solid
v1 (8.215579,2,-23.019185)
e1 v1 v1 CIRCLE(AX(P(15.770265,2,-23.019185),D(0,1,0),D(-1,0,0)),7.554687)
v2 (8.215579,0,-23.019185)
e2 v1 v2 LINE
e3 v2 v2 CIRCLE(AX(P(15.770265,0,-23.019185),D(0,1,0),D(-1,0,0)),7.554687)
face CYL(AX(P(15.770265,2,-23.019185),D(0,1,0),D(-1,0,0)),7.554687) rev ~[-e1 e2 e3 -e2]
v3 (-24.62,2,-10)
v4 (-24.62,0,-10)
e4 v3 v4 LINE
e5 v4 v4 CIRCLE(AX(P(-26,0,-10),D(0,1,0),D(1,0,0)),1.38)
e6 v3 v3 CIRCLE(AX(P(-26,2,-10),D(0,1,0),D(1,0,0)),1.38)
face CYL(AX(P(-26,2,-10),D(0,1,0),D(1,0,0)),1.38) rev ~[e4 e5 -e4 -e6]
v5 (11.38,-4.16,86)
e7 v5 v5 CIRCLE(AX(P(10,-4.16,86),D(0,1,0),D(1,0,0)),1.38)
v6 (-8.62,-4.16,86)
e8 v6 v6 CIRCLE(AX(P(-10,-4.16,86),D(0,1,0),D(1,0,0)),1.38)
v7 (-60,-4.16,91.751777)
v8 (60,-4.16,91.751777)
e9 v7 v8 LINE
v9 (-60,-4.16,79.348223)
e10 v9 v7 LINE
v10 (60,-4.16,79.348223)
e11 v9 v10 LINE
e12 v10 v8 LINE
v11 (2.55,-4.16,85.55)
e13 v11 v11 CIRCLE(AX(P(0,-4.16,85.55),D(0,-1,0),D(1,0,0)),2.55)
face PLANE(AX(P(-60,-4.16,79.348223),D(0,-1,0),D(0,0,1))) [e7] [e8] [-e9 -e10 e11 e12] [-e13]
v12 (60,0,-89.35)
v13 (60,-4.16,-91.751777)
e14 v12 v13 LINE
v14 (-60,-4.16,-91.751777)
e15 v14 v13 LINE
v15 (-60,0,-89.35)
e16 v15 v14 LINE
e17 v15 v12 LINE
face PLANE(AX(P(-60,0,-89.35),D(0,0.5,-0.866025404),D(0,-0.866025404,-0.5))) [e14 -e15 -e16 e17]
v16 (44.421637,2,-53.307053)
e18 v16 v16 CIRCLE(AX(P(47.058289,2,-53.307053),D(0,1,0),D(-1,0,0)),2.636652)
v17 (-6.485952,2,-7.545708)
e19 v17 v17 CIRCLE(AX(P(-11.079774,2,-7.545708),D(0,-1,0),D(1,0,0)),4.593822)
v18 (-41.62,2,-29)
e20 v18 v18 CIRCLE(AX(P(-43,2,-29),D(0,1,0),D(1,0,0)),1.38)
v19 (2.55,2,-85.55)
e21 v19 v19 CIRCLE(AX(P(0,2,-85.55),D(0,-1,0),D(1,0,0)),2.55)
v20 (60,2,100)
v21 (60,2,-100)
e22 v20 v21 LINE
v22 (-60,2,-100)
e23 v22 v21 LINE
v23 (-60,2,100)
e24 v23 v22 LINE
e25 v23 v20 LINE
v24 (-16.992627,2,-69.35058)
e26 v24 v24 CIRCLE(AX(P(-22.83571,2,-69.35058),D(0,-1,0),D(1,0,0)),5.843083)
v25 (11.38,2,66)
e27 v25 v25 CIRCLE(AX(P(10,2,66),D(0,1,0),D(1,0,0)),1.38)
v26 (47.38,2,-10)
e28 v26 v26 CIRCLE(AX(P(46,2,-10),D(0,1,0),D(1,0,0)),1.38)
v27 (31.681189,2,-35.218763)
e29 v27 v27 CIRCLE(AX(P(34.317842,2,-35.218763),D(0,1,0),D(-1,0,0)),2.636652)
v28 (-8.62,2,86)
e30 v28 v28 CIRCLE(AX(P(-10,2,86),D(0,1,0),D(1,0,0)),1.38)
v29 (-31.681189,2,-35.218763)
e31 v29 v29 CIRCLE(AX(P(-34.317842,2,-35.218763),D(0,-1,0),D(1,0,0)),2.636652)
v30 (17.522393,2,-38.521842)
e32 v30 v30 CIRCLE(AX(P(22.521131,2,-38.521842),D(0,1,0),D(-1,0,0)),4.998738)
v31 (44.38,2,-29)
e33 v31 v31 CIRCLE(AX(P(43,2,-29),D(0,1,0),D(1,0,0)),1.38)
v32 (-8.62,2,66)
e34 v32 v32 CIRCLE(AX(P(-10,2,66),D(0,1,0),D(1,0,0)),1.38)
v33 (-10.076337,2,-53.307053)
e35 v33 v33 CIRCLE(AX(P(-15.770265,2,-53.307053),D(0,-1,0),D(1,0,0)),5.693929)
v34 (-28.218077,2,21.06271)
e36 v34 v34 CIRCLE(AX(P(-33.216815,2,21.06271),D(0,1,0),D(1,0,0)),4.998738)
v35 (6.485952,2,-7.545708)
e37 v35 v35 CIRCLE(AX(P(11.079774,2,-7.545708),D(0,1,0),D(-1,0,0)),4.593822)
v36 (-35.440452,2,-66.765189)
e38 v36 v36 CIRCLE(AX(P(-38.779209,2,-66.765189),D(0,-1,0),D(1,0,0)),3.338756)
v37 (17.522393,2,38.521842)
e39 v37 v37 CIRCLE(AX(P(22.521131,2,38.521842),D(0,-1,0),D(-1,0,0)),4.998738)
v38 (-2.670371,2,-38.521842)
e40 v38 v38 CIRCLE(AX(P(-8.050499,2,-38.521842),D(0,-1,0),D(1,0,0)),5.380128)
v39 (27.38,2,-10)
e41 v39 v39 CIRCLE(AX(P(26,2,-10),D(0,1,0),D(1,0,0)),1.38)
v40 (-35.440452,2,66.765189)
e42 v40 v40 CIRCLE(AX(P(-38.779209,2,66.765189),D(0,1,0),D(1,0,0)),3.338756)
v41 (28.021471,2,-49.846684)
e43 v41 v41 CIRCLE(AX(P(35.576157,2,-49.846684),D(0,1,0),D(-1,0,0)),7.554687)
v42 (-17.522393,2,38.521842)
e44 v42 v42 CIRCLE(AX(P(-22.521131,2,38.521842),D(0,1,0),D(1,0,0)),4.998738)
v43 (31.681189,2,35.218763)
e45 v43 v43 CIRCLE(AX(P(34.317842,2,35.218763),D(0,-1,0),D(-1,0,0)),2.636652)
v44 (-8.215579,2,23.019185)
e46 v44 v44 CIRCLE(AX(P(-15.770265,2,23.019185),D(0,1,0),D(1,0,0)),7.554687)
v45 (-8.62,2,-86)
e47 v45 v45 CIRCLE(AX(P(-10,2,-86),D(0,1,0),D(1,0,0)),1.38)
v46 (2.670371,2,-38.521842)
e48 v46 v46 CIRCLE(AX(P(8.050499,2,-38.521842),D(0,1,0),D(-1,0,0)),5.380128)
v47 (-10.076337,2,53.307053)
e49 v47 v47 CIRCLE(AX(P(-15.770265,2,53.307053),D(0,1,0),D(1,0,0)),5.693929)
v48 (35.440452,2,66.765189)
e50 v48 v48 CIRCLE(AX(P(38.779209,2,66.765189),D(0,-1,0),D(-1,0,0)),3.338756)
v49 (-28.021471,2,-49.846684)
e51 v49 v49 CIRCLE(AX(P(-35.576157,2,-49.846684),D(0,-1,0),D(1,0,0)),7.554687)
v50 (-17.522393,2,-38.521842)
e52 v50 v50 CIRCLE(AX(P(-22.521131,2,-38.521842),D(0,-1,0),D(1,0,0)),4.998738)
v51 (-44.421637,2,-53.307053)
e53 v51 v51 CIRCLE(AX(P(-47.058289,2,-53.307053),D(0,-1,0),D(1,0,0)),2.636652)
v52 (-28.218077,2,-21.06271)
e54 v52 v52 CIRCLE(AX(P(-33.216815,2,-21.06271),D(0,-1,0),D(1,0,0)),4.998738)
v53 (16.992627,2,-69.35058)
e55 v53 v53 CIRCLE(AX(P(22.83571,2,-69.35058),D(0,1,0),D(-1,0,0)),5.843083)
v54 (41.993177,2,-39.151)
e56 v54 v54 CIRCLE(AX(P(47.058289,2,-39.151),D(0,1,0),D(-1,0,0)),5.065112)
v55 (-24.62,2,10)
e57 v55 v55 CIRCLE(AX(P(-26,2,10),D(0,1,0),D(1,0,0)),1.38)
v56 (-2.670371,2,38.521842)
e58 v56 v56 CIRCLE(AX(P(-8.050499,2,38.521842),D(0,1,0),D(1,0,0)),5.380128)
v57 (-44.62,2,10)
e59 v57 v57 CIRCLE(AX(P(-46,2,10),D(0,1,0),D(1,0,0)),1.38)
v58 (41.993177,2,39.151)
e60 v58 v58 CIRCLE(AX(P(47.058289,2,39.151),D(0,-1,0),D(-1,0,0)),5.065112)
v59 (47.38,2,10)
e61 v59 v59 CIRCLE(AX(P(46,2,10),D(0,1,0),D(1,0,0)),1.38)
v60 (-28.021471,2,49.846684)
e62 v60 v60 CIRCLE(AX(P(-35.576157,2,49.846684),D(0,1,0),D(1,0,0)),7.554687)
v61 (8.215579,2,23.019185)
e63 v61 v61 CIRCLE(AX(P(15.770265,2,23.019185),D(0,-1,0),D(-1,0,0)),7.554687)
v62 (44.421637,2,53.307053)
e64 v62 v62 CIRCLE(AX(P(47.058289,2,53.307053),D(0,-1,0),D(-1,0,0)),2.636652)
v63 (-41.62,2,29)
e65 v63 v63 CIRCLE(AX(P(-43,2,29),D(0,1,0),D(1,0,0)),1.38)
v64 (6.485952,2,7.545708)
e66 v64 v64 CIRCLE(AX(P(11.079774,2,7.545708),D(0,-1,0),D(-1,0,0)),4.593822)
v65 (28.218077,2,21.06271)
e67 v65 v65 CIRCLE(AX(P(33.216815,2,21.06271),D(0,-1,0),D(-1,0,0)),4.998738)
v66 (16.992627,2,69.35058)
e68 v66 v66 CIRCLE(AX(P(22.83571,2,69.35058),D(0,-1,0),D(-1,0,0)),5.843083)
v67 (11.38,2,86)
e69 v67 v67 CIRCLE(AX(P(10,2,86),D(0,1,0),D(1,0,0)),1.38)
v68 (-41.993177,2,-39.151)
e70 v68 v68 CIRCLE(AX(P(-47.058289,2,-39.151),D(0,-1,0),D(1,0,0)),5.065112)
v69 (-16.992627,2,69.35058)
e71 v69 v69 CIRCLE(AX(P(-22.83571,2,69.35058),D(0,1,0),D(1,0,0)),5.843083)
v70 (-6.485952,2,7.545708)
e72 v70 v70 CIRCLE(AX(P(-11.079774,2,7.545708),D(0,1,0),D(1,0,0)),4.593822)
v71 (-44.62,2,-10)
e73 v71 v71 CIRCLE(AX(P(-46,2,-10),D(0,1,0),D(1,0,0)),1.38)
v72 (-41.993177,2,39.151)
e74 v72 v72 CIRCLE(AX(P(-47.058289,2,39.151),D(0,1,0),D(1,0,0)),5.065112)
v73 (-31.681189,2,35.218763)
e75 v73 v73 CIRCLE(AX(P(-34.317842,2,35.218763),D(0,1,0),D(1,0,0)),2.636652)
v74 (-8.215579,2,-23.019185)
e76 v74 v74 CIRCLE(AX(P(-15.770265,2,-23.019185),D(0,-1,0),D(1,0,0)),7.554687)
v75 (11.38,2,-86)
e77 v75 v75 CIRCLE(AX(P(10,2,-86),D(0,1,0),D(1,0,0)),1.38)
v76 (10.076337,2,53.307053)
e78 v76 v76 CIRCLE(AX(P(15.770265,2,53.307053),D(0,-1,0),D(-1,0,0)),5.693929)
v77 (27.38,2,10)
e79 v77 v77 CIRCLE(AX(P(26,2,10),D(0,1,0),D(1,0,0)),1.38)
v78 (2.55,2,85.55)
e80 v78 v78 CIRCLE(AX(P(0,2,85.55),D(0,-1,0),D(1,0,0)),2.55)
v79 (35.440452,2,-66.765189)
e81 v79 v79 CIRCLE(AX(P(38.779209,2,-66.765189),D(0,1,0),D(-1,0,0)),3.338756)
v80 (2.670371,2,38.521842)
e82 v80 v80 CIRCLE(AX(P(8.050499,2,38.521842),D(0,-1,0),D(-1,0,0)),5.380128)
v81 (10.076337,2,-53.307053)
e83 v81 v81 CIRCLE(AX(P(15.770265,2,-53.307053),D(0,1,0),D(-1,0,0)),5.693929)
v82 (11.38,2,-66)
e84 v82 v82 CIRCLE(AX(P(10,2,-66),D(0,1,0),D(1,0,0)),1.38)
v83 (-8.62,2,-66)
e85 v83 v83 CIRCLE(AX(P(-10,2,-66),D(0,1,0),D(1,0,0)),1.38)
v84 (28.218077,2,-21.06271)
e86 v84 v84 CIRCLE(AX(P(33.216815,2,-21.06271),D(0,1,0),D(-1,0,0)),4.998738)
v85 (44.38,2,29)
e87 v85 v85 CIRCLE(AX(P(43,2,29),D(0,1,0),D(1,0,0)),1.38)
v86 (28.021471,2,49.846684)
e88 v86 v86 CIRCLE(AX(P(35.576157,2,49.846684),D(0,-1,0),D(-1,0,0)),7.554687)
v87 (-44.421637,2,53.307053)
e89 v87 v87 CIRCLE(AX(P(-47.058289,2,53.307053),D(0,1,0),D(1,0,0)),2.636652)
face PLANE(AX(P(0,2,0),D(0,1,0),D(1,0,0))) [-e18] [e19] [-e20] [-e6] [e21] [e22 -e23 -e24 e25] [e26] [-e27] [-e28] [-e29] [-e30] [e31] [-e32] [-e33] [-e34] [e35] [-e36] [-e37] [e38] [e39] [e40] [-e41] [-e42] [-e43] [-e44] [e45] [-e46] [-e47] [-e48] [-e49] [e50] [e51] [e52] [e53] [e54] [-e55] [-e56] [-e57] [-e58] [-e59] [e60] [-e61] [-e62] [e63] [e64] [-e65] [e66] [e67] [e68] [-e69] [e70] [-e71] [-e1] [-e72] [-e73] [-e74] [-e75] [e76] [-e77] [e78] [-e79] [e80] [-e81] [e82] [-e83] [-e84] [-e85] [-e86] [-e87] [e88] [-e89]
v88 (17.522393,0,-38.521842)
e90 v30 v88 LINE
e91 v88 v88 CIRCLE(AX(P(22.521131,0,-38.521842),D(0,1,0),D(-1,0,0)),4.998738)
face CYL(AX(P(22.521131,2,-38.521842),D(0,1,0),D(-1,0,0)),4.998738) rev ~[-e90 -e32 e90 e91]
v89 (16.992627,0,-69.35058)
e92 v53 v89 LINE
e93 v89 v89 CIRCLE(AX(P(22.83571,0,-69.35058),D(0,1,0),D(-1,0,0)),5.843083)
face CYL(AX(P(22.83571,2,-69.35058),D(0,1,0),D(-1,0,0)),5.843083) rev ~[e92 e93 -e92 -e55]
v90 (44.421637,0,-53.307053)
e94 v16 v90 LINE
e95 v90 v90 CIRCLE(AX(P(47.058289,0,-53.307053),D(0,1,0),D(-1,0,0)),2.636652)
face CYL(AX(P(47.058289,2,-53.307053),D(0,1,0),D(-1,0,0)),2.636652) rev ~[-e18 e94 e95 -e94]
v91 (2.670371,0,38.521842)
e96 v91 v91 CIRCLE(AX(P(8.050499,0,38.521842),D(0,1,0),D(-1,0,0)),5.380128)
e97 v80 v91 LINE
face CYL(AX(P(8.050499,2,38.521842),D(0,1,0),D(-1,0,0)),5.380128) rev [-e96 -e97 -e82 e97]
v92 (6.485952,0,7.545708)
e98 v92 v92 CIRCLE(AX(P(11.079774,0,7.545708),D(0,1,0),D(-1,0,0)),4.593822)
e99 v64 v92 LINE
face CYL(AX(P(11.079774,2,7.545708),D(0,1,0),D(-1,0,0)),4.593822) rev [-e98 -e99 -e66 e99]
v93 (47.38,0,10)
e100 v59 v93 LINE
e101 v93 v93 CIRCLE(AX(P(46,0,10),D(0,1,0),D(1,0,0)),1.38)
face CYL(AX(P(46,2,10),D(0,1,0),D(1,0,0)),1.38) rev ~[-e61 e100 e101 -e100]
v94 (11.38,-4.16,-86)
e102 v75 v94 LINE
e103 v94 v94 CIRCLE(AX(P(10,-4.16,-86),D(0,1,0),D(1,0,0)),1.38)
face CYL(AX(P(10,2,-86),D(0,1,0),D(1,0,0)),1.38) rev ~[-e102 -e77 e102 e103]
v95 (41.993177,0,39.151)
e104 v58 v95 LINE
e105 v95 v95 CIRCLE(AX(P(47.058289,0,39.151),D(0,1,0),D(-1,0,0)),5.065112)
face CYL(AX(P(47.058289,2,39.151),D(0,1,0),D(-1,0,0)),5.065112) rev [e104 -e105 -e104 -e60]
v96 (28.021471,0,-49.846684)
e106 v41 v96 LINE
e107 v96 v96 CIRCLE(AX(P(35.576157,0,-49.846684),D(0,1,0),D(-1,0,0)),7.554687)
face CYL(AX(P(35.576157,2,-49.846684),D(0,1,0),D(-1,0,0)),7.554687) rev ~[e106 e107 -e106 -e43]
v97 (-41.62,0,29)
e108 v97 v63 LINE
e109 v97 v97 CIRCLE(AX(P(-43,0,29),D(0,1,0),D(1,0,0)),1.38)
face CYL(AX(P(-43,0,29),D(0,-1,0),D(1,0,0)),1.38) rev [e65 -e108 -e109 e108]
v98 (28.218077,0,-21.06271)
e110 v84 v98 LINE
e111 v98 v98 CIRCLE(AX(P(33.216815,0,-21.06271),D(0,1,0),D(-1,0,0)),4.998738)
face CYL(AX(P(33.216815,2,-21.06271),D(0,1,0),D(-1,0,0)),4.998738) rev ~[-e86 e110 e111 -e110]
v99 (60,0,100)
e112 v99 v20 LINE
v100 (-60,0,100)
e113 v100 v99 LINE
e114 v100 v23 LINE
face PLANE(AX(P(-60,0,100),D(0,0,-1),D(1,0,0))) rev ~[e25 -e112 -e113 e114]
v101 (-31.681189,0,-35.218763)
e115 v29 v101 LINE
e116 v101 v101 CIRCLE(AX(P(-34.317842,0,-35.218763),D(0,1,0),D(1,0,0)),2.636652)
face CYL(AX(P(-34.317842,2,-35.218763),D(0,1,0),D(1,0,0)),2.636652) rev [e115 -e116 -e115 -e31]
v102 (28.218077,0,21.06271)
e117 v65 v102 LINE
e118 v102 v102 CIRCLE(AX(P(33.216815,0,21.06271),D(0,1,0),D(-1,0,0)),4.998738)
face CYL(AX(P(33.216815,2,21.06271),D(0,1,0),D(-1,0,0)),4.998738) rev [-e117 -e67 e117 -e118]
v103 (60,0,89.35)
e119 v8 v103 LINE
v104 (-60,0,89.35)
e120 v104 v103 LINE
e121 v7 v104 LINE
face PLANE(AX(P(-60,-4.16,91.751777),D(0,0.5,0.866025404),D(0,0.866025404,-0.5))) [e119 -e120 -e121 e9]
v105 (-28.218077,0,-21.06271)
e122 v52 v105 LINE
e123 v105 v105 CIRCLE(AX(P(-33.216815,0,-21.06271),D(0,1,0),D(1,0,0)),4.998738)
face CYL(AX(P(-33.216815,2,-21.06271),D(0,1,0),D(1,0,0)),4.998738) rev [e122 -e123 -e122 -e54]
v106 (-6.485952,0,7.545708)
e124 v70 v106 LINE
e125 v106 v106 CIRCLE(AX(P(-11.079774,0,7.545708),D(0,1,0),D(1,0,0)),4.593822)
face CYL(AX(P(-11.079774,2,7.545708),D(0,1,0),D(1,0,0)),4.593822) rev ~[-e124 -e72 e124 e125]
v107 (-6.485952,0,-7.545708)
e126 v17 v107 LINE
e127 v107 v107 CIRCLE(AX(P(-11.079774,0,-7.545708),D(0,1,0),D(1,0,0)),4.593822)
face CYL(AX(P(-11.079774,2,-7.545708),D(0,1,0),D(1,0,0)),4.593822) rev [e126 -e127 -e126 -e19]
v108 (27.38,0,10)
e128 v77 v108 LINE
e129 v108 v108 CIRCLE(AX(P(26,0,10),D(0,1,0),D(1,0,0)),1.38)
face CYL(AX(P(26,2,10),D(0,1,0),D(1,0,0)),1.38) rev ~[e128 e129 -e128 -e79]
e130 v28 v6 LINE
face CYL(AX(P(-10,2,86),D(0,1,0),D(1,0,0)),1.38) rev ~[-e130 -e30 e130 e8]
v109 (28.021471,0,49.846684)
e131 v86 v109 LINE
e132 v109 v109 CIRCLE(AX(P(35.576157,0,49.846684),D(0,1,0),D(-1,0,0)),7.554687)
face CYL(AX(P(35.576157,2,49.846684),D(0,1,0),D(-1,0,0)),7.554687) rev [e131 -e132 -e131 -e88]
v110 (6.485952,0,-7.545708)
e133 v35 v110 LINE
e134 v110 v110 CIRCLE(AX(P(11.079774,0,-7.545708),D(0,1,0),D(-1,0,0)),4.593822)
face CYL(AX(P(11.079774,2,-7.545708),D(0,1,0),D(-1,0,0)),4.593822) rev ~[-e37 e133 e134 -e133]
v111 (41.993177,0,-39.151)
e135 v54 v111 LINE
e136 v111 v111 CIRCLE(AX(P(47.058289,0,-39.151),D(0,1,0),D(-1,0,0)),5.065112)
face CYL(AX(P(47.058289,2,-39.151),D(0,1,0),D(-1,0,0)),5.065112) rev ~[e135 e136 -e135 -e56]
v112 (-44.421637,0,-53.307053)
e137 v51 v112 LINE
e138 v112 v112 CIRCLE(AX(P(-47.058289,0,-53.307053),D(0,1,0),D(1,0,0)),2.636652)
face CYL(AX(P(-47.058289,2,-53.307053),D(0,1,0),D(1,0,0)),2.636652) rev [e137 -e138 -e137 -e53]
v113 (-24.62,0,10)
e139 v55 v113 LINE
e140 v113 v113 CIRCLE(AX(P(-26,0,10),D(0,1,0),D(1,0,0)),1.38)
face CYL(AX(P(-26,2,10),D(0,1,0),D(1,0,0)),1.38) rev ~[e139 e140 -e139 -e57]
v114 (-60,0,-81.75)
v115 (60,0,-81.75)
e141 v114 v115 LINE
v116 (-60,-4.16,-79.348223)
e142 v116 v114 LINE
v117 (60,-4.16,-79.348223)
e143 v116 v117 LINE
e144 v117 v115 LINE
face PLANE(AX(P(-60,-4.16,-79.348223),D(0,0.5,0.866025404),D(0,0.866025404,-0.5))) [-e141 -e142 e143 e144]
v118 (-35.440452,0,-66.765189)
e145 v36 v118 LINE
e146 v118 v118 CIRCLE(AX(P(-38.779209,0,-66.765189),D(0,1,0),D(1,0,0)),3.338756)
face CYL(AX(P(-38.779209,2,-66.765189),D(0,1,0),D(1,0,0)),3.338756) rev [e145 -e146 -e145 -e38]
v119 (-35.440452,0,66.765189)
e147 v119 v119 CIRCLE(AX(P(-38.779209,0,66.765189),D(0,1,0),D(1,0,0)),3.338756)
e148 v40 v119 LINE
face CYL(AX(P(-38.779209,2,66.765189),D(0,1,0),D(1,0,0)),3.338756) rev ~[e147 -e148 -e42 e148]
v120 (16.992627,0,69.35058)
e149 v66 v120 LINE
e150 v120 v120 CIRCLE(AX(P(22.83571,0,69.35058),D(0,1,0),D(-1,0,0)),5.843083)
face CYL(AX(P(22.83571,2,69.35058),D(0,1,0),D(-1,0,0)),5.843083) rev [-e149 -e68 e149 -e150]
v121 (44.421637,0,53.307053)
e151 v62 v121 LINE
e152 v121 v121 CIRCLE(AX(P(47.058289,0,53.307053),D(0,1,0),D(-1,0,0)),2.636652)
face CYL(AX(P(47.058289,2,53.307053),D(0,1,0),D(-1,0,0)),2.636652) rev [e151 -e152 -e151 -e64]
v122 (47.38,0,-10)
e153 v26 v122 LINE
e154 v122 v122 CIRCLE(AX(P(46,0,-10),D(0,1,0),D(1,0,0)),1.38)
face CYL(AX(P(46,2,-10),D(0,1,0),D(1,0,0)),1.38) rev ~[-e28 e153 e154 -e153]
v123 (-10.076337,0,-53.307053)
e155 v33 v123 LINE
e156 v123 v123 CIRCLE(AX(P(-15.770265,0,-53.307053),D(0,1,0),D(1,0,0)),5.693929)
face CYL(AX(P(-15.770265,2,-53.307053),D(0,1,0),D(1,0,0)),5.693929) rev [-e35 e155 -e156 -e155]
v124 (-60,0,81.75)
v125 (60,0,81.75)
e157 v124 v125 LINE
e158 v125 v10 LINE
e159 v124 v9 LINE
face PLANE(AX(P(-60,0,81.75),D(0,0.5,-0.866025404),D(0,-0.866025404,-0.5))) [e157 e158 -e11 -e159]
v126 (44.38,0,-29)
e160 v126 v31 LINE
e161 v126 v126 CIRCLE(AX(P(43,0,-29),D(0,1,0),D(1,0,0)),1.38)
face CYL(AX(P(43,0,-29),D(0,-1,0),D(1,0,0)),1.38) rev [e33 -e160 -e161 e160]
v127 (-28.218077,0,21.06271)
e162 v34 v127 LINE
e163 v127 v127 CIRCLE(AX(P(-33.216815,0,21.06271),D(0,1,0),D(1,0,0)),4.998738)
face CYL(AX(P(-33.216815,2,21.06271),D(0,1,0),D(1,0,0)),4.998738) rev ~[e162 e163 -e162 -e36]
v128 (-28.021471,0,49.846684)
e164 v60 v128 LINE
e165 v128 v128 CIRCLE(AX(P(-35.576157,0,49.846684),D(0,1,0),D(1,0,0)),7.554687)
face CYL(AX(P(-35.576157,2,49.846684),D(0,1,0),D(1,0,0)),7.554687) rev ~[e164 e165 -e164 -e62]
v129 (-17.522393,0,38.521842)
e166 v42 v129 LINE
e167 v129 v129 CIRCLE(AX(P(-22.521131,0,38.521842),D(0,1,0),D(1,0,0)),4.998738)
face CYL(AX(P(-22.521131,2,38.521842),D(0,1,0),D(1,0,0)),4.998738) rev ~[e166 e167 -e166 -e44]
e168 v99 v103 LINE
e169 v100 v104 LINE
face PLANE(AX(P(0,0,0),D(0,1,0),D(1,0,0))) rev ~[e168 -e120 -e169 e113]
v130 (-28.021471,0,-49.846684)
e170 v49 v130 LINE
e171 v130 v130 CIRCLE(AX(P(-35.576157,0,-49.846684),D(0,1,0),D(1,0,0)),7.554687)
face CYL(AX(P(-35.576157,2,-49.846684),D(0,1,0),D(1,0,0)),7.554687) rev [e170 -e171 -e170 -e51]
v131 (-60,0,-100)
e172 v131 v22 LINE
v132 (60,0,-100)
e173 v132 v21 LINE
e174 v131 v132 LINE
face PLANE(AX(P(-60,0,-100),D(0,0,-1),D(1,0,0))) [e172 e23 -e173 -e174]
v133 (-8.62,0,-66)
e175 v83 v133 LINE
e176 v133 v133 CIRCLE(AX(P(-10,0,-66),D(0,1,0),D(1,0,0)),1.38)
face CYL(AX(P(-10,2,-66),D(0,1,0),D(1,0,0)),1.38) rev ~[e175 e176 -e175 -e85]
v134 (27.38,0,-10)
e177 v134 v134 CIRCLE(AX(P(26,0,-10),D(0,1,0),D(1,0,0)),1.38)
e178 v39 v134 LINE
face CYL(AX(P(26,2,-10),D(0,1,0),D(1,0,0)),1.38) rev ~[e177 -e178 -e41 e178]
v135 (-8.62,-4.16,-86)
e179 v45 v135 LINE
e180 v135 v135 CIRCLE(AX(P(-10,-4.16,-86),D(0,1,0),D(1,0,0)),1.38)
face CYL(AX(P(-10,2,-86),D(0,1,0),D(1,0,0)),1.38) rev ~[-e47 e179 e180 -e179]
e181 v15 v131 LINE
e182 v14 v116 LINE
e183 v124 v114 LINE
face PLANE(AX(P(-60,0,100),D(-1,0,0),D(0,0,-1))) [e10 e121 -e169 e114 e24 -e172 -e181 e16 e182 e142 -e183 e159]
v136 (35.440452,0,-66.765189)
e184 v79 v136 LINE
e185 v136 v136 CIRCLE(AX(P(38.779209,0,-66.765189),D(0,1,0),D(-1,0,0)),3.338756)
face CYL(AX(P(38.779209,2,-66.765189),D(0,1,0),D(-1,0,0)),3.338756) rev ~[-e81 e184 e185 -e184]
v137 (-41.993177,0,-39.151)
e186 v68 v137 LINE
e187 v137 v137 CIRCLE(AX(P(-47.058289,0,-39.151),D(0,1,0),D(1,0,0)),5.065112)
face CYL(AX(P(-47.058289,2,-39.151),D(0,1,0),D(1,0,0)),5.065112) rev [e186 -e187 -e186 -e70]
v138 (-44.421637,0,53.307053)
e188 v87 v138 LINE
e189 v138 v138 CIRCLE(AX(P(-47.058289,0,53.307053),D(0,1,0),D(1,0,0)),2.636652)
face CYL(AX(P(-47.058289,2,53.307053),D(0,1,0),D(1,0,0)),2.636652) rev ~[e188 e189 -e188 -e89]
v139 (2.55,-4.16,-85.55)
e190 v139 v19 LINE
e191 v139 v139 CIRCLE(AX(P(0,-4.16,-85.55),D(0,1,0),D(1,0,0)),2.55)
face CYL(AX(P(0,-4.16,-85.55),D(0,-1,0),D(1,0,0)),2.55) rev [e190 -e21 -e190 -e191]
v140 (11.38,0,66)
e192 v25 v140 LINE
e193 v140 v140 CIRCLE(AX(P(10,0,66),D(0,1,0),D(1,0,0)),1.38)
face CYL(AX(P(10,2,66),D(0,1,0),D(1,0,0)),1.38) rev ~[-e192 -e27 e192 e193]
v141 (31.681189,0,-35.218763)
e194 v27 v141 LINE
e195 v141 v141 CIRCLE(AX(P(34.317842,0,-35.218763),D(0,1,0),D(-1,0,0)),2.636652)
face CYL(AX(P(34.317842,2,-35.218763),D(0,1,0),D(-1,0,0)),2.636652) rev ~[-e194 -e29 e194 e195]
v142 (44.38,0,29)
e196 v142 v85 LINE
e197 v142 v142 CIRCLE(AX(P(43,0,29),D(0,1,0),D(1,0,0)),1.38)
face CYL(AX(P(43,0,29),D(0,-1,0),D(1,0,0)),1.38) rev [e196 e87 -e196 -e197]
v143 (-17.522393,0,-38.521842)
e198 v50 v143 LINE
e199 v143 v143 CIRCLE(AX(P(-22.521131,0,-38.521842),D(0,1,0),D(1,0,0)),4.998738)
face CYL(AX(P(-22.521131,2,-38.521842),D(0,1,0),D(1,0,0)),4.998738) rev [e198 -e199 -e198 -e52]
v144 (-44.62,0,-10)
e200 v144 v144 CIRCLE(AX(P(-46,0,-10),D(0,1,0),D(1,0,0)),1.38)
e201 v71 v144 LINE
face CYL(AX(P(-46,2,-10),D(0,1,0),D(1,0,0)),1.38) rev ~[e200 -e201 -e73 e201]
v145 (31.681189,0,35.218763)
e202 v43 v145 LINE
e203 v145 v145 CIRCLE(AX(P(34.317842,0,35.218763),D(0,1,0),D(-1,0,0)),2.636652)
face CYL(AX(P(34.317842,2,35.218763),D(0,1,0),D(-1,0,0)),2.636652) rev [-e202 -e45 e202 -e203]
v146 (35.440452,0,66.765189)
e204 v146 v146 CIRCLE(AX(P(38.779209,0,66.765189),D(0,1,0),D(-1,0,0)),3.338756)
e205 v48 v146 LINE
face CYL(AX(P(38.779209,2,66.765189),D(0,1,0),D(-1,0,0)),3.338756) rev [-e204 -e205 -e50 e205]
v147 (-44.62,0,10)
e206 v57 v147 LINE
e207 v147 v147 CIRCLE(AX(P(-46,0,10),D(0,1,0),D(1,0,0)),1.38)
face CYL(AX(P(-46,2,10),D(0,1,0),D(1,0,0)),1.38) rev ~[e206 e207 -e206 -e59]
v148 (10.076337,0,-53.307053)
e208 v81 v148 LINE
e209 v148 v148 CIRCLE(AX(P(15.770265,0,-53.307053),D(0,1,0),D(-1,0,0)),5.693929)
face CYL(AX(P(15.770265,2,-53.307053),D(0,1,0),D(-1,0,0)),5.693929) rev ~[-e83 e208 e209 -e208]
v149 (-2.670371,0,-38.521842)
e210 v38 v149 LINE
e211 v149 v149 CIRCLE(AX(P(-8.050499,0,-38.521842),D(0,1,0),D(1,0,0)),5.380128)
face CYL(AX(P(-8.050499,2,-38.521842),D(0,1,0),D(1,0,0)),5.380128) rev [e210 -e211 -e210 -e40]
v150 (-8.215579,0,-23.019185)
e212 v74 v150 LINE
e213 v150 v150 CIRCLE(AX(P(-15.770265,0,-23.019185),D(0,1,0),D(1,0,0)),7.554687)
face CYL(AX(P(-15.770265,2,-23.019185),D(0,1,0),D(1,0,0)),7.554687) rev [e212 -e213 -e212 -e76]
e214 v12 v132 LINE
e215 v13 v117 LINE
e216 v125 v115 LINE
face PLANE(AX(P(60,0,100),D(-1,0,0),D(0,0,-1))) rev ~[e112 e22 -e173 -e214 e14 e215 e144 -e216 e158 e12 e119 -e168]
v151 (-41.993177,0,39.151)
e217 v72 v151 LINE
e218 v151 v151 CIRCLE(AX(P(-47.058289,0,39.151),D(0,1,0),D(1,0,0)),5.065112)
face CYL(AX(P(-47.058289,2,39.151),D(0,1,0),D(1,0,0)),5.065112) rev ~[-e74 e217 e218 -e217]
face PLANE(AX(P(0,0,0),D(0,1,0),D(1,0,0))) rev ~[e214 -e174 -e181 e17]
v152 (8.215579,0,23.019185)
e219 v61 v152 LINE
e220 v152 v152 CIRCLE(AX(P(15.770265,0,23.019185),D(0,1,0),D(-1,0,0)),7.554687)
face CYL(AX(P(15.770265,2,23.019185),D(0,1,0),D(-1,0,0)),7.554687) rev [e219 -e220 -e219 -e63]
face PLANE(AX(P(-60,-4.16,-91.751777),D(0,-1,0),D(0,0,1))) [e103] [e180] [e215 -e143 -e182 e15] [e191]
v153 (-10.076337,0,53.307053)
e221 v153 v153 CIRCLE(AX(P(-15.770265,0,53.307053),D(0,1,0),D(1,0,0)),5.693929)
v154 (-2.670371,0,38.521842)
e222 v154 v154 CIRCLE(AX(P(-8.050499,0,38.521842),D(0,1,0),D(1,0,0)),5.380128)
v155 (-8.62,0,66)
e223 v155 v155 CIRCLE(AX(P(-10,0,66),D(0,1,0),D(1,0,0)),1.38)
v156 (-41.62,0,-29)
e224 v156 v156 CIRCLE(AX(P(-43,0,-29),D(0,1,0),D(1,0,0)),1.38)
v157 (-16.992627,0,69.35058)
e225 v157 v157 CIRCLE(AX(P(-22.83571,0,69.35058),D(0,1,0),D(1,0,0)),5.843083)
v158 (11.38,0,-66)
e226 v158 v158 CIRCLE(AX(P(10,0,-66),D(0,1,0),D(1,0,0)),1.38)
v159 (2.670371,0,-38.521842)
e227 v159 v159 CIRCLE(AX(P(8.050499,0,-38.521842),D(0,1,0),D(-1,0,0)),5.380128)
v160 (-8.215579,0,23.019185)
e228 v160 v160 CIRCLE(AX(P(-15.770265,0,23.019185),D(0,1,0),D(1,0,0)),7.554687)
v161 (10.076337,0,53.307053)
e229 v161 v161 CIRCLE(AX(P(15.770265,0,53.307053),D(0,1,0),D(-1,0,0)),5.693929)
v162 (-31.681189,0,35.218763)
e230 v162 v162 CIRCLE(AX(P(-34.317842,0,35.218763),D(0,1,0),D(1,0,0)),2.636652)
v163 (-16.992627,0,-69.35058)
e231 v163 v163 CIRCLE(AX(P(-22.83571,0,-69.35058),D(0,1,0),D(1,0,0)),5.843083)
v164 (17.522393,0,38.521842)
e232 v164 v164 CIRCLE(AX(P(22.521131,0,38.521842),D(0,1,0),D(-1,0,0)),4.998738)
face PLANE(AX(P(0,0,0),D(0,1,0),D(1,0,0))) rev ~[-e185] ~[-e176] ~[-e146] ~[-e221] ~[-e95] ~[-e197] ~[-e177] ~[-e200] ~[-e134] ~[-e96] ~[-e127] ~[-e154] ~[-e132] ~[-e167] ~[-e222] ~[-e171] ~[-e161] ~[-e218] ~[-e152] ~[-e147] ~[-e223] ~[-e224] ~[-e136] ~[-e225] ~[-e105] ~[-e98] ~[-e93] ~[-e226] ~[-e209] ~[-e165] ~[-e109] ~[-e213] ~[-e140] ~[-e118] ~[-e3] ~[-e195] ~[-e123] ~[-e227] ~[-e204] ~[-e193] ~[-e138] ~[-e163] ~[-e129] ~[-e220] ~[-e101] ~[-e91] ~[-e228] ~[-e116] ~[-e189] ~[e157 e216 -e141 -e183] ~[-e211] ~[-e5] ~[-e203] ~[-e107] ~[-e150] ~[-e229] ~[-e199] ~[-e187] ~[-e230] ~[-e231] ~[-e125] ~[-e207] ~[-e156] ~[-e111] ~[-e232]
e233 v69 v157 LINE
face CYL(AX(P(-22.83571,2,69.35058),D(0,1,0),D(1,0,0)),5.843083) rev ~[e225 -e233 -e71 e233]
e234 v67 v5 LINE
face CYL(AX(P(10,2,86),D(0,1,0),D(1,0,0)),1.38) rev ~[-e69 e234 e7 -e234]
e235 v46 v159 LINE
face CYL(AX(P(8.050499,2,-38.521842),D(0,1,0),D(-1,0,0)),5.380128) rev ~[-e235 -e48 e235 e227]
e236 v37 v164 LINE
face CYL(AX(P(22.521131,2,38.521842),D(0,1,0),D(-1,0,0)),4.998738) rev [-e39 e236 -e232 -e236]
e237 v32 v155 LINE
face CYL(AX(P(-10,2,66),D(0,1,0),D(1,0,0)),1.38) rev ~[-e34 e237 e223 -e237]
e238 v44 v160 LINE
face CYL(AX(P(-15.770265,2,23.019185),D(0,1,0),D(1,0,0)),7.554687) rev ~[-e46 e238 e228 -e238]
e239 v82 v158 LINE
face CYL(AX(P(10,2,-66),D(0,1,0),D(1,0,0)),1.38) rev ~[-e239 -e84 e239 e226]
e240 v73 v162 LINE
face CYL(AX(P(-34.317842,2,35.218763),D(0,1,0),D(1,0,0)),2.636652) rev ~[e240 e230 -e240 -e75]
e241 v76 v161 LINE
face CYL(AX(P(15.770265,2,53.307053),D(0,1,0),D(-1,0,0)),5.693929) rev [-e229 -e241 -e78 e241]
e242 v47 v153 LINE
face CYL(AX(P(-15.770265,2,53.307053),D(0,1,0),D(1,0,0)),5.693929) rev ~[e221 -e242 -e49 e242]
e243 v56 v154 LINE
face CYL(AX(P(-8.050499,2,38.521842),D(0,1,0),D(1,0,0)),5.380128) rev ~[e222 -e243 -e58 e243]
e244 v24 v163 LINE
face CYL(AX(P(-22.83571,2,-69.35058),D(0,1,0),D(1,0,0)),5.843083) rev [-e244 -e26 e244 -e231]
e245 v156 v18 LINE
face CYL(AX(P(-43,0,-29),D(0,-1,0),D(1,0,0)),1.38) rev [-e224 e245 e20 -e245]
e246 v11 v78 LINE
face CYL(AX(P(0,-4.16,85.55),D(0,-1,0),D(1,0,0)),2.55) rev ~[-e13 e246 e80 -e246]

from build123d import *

# Parameters (mm, degrees)
SKETCH3_W                 = 120
SKETCH3_H                 = 200
SKETCH3_R                 = 1.38
BOSS_EXTRUDE1_DEPTH       = 2
BOSS_EXTRUDE2_DEPTH       = 120
SKETCH5_R                 = 1.38
CUT_EXTRUDE1_DEPTH        = 7.16
SKETCH7_R                 = 4.998737833
SKETCH7_R_2               = 7.554686589
SKETCH7_R_3               = 5.693928521
SKETCH7_R_4               = 3.338756268
SKETCH7_R_5               = 5.843083046
SKETCH7_R_6               = 5.380127949
SKETCH7_R_7               = 4.59382227
SKETCH7_R_8               = 2.636652122
SKETCH7_R_9               = 5.065111982
CUT_EXTRUDE2_DEPTH        = 7.16
MIRROR2_COPY_1_SKETCH_R   = 4.998737833
MIRROR2_COPY_1_SKETCH_R_2 = 7.554686589
MIRROR2_COPY_1_SKETCH_R_3 = 5.693928521
MIRROR2_COPY_1_SKETCH_R_4 = 3.338756268
MIRROR2_COPY_1_SKETCH_R_5 = 5.843083046
MIRROR2_COPY_1_SKETCH_R_6 = 5.380127949
MIRROR2_COPY_1_SKETCH_R_7 = 4.59382227
MIRROR2_COPY_1_SKETCH_R_8 = 2.636652122
MIRROR2_COPY_1_SKETCH_R_9 = 5.065111982
MIRROR2_COPY_1_DEPTH      = 7.16
SKETCH8_R                 = 2.55
CUT_EXTRUDE3_DEPTH        = 7.16


with BuildPart() as part:
    # Sketch3 → Boss-Extrude1 (new body)
    with BuildSketch(Plane(origin=(0, 0, 0), x_dir=(1, 0, 0), z_dir=(0, 1, 0))):
        with Locations((1e-09, 0)):
            Rectangle(SKETCH3_W, SKETCH3_H)
        with Locations((-43, 29)):
            Circle(SKETCH3_R, mode=Mode.SUBTRACT)
        with Locations((43, 29)):
            Circle(SKETCH3_R, mode=Mode.SUBTRACT)
        with Locations((43, -29)):
            Circle(SKETCH3_R, mode=Mode.SUBTRACT)
        with Locations((-43, -29)):
            Circle(SKETCH3_R, mode=Mode.SUBTRACT)
    extrude(amount=BOSS_EXTRUDE1_DEPTH)

    # Sketch4 → Boss-Extrude2 (add)
    with BuildSketch(Plane.ZY.offset(59.999999999)):
        Polygon((-89.35, 0), (-91.75177712, -4.16), (-79.34822288, -4.16), (-81.75, 0), align=None)
        Polygon((81.75, 0), (79.34822288, -4.16), (91.75177712, -4.16), (89.35, 0), align=None)
    extrude(amount=-BOSS_EXTRUDE2_DEPTH)

    # Sketch5 → Cut-Extrude1 (cut, through all)
    with BuildSketch(Plane(origin=(0, 2, 0), x_dir=(1, 0, 0), z_dir=(0, 1, 0))):
        with Locations((-10, -86)):
            Circle(SKETCH5_R)
        with Locations((10, -86)):
            Circle(SKETCH5_R)
        with Locations((-45.999999999, 10)):
            Circle(SKETCH5_R)
        with Locations((-45.999999999, -10)):
            Circle(SKETCH5_R)
        with Locations((-25.999999999, 10)):
            Circle(SKETCH5_R)
        with Locations((-25.999999999, -10)):
            Circle(SKETCH5_R)
        with Locations((26.000000001, 10)):
            Circle(SKETCH5_R)
        with Locations((26.000000001, -10)):
            Circle(SKETCH5_R)
        with Locations((46.000000001, 10)):
            Circle(SKETCH5_R)
        with Locations((46.000000001, -10)):
            Circle(SKETCH5_R)
        with Locations((-10, -66)):
            Circle(SKETCH5_R)
        with Locations((10, -66)):
            Circle(SKETCH5_R)
        with Locations((-10, 86)):
            Circle(SKETCH5_R)
        with Locations((10, 86)):
            Circle(SKETCH5_R)
        with Locations((-10, 66)):
            Circle(SKETCH5_R)
        with Locations((10, 66)):
            Circle(SKETCH5_R)
    extrude(amount=-CUT_EXTRUDE1_DEPTH, mode=Mode.SUBTRACT)

    # Sketch7 → Cut-Extrude2 (cut, through all)
    with BuildSketch(Plane(origin=(0, 2, 0), x_dir=(1, 0, 0), z_dir=(0, 1, 0))):
        with Locations((-22.521130628, -38.521841888)):
            Circle(SKETCH7_R)
        with Locations((-35.576157364, -49.846684357)):
            Circle(SKETCH7_R_2)
        with Locations((-15.770265305, -53.307052889)):
            Circle(SKETCH7_R_3)
        with Locations((-38.779208604, -66.765189198)):
            Circle(SKETCH7_R_4)
        with Locations((-22.835709586, -69.350579721)):
            Circle(SKETCH7_R_5)
        with Locations((-15.770265305, -23.019185403)):
            Circle(SKETCH7_R_2)
        with Locations((-8.050498584, -38.521841888)):
            Circle(SKETCH7_R_6)
        with Locations((-11.079773886, -7.545708078)):
            Circle(SKETCH7_R_7)
        with Locations((-34.317841534, -35.218762834)):
            Circle(SKETCH7_R_8)
        with Locations((-33.216815183, -21.062709748)):
            Circle(SKETCH7_R)
        with Locations((-47.058289312, -39.150999803)):
            Circle(SKETCH7_R_9)
        with Locations((-47.058289312, -53.307052889)):
            Circle(SKETCH7_R_8)
    cut_extrude2 = extrude(amount=-CUT_EXTRUDE2_DEPTH, mode=Mode.SUBTRACT)

    # Mirror1: Cut-Extrude2 across plane
    add(cut_extrude2.mirror(Plane.XY), mode=Mode.SUBTRACT)

    # Mirror2: Cut-Extrude2 across plane
    add(cut_extrude2.mirror(Plane(origin=(0, 0, 0), x_dir=(0, 0, 1), z_dir=(1, 0, 0))), mode=Mode.SUBTRACT)

    # Mirror2 copy 1 sketch → Mirror2 copy 1 (cut, through all)
    with BuildSketch(Plane(origin=(0, 2, 0), x_dir=(-1, 0, 0), z_dir=(0, 1, 0))):
        with Locations((-22.521130628, -38.521841888)):
            Circle(MIRROR2_COPY_1_SKETCH_R)
        with Locations((-35.576157364, -49.846684357)):
            Circle(MIRROR2_COPY_1_SKETCH_R_2)
        with Locations((-15.770265305, -53.307052889)):
            Circle(MIRROR2_COPY_1_SKETCH_R_3)
        with Locations((-38.779208604, -66.765189198)):
            Circle(MIRROR2_COPY_1_SKETCH_R_4)
        with Locations((-22.835709586, -69.350579721)):
            Circle(MIRROR2_COPY_1_SKETCH_R_5)
        with Locations((-15.770265305, -23.019185403)):
            Circle(MIRROR2_COPY_1_SKETCH_R_2)
        with Locations((-8.050498584, -38.521841888)):
            Circle(MIRROR2_COPY_1_SKETCH_R_6)
        with Locations((-11.079773886, -7.545708078)):
            Circle(MIRROR2_COPY_1_SKETCH_R_7)
        with Locations((-34.317841534, -35.218762834)):
            Circle(MIRROR2_COPY_1_SKETCH_R_8)
        with Locations((-33.216815183, -21.062709748)):
            Circle(MIRROR2_COPY_1_SKETCH_R)
        with Locations((-47.058289312, -39.150999803)):
            Circle(MIRROR2_COPY_1_SKETCH_R_9)
        with Locations((-47.058289312, -53.307052889)):
            Circle(MIRROR2_COPY_1_SKETCH_R_8)
    extrude(amount=-MIRROR2_COPY_1_DEPTH, mode=Mode.SUBTRACT)

    # Sketch8 → Cut-Extrude3 (cut, through all)
    with BuildSketch(Plane.XZ.offset(4.16)):
        with Locations((1e-09, 85.55)):
            Circle(SKETCH8_R)
    cut_extrude3 = extrude(amount=-CUT_EXTRUDE3_DEPTH, mode=Mode.SUBTRACT)

    # Mirror3: Cut-Extrude3 across plane
    add(cut_extrude3.mirror(Plane.XY), mode=Mode.SUBTRACT)


solid = part.part
